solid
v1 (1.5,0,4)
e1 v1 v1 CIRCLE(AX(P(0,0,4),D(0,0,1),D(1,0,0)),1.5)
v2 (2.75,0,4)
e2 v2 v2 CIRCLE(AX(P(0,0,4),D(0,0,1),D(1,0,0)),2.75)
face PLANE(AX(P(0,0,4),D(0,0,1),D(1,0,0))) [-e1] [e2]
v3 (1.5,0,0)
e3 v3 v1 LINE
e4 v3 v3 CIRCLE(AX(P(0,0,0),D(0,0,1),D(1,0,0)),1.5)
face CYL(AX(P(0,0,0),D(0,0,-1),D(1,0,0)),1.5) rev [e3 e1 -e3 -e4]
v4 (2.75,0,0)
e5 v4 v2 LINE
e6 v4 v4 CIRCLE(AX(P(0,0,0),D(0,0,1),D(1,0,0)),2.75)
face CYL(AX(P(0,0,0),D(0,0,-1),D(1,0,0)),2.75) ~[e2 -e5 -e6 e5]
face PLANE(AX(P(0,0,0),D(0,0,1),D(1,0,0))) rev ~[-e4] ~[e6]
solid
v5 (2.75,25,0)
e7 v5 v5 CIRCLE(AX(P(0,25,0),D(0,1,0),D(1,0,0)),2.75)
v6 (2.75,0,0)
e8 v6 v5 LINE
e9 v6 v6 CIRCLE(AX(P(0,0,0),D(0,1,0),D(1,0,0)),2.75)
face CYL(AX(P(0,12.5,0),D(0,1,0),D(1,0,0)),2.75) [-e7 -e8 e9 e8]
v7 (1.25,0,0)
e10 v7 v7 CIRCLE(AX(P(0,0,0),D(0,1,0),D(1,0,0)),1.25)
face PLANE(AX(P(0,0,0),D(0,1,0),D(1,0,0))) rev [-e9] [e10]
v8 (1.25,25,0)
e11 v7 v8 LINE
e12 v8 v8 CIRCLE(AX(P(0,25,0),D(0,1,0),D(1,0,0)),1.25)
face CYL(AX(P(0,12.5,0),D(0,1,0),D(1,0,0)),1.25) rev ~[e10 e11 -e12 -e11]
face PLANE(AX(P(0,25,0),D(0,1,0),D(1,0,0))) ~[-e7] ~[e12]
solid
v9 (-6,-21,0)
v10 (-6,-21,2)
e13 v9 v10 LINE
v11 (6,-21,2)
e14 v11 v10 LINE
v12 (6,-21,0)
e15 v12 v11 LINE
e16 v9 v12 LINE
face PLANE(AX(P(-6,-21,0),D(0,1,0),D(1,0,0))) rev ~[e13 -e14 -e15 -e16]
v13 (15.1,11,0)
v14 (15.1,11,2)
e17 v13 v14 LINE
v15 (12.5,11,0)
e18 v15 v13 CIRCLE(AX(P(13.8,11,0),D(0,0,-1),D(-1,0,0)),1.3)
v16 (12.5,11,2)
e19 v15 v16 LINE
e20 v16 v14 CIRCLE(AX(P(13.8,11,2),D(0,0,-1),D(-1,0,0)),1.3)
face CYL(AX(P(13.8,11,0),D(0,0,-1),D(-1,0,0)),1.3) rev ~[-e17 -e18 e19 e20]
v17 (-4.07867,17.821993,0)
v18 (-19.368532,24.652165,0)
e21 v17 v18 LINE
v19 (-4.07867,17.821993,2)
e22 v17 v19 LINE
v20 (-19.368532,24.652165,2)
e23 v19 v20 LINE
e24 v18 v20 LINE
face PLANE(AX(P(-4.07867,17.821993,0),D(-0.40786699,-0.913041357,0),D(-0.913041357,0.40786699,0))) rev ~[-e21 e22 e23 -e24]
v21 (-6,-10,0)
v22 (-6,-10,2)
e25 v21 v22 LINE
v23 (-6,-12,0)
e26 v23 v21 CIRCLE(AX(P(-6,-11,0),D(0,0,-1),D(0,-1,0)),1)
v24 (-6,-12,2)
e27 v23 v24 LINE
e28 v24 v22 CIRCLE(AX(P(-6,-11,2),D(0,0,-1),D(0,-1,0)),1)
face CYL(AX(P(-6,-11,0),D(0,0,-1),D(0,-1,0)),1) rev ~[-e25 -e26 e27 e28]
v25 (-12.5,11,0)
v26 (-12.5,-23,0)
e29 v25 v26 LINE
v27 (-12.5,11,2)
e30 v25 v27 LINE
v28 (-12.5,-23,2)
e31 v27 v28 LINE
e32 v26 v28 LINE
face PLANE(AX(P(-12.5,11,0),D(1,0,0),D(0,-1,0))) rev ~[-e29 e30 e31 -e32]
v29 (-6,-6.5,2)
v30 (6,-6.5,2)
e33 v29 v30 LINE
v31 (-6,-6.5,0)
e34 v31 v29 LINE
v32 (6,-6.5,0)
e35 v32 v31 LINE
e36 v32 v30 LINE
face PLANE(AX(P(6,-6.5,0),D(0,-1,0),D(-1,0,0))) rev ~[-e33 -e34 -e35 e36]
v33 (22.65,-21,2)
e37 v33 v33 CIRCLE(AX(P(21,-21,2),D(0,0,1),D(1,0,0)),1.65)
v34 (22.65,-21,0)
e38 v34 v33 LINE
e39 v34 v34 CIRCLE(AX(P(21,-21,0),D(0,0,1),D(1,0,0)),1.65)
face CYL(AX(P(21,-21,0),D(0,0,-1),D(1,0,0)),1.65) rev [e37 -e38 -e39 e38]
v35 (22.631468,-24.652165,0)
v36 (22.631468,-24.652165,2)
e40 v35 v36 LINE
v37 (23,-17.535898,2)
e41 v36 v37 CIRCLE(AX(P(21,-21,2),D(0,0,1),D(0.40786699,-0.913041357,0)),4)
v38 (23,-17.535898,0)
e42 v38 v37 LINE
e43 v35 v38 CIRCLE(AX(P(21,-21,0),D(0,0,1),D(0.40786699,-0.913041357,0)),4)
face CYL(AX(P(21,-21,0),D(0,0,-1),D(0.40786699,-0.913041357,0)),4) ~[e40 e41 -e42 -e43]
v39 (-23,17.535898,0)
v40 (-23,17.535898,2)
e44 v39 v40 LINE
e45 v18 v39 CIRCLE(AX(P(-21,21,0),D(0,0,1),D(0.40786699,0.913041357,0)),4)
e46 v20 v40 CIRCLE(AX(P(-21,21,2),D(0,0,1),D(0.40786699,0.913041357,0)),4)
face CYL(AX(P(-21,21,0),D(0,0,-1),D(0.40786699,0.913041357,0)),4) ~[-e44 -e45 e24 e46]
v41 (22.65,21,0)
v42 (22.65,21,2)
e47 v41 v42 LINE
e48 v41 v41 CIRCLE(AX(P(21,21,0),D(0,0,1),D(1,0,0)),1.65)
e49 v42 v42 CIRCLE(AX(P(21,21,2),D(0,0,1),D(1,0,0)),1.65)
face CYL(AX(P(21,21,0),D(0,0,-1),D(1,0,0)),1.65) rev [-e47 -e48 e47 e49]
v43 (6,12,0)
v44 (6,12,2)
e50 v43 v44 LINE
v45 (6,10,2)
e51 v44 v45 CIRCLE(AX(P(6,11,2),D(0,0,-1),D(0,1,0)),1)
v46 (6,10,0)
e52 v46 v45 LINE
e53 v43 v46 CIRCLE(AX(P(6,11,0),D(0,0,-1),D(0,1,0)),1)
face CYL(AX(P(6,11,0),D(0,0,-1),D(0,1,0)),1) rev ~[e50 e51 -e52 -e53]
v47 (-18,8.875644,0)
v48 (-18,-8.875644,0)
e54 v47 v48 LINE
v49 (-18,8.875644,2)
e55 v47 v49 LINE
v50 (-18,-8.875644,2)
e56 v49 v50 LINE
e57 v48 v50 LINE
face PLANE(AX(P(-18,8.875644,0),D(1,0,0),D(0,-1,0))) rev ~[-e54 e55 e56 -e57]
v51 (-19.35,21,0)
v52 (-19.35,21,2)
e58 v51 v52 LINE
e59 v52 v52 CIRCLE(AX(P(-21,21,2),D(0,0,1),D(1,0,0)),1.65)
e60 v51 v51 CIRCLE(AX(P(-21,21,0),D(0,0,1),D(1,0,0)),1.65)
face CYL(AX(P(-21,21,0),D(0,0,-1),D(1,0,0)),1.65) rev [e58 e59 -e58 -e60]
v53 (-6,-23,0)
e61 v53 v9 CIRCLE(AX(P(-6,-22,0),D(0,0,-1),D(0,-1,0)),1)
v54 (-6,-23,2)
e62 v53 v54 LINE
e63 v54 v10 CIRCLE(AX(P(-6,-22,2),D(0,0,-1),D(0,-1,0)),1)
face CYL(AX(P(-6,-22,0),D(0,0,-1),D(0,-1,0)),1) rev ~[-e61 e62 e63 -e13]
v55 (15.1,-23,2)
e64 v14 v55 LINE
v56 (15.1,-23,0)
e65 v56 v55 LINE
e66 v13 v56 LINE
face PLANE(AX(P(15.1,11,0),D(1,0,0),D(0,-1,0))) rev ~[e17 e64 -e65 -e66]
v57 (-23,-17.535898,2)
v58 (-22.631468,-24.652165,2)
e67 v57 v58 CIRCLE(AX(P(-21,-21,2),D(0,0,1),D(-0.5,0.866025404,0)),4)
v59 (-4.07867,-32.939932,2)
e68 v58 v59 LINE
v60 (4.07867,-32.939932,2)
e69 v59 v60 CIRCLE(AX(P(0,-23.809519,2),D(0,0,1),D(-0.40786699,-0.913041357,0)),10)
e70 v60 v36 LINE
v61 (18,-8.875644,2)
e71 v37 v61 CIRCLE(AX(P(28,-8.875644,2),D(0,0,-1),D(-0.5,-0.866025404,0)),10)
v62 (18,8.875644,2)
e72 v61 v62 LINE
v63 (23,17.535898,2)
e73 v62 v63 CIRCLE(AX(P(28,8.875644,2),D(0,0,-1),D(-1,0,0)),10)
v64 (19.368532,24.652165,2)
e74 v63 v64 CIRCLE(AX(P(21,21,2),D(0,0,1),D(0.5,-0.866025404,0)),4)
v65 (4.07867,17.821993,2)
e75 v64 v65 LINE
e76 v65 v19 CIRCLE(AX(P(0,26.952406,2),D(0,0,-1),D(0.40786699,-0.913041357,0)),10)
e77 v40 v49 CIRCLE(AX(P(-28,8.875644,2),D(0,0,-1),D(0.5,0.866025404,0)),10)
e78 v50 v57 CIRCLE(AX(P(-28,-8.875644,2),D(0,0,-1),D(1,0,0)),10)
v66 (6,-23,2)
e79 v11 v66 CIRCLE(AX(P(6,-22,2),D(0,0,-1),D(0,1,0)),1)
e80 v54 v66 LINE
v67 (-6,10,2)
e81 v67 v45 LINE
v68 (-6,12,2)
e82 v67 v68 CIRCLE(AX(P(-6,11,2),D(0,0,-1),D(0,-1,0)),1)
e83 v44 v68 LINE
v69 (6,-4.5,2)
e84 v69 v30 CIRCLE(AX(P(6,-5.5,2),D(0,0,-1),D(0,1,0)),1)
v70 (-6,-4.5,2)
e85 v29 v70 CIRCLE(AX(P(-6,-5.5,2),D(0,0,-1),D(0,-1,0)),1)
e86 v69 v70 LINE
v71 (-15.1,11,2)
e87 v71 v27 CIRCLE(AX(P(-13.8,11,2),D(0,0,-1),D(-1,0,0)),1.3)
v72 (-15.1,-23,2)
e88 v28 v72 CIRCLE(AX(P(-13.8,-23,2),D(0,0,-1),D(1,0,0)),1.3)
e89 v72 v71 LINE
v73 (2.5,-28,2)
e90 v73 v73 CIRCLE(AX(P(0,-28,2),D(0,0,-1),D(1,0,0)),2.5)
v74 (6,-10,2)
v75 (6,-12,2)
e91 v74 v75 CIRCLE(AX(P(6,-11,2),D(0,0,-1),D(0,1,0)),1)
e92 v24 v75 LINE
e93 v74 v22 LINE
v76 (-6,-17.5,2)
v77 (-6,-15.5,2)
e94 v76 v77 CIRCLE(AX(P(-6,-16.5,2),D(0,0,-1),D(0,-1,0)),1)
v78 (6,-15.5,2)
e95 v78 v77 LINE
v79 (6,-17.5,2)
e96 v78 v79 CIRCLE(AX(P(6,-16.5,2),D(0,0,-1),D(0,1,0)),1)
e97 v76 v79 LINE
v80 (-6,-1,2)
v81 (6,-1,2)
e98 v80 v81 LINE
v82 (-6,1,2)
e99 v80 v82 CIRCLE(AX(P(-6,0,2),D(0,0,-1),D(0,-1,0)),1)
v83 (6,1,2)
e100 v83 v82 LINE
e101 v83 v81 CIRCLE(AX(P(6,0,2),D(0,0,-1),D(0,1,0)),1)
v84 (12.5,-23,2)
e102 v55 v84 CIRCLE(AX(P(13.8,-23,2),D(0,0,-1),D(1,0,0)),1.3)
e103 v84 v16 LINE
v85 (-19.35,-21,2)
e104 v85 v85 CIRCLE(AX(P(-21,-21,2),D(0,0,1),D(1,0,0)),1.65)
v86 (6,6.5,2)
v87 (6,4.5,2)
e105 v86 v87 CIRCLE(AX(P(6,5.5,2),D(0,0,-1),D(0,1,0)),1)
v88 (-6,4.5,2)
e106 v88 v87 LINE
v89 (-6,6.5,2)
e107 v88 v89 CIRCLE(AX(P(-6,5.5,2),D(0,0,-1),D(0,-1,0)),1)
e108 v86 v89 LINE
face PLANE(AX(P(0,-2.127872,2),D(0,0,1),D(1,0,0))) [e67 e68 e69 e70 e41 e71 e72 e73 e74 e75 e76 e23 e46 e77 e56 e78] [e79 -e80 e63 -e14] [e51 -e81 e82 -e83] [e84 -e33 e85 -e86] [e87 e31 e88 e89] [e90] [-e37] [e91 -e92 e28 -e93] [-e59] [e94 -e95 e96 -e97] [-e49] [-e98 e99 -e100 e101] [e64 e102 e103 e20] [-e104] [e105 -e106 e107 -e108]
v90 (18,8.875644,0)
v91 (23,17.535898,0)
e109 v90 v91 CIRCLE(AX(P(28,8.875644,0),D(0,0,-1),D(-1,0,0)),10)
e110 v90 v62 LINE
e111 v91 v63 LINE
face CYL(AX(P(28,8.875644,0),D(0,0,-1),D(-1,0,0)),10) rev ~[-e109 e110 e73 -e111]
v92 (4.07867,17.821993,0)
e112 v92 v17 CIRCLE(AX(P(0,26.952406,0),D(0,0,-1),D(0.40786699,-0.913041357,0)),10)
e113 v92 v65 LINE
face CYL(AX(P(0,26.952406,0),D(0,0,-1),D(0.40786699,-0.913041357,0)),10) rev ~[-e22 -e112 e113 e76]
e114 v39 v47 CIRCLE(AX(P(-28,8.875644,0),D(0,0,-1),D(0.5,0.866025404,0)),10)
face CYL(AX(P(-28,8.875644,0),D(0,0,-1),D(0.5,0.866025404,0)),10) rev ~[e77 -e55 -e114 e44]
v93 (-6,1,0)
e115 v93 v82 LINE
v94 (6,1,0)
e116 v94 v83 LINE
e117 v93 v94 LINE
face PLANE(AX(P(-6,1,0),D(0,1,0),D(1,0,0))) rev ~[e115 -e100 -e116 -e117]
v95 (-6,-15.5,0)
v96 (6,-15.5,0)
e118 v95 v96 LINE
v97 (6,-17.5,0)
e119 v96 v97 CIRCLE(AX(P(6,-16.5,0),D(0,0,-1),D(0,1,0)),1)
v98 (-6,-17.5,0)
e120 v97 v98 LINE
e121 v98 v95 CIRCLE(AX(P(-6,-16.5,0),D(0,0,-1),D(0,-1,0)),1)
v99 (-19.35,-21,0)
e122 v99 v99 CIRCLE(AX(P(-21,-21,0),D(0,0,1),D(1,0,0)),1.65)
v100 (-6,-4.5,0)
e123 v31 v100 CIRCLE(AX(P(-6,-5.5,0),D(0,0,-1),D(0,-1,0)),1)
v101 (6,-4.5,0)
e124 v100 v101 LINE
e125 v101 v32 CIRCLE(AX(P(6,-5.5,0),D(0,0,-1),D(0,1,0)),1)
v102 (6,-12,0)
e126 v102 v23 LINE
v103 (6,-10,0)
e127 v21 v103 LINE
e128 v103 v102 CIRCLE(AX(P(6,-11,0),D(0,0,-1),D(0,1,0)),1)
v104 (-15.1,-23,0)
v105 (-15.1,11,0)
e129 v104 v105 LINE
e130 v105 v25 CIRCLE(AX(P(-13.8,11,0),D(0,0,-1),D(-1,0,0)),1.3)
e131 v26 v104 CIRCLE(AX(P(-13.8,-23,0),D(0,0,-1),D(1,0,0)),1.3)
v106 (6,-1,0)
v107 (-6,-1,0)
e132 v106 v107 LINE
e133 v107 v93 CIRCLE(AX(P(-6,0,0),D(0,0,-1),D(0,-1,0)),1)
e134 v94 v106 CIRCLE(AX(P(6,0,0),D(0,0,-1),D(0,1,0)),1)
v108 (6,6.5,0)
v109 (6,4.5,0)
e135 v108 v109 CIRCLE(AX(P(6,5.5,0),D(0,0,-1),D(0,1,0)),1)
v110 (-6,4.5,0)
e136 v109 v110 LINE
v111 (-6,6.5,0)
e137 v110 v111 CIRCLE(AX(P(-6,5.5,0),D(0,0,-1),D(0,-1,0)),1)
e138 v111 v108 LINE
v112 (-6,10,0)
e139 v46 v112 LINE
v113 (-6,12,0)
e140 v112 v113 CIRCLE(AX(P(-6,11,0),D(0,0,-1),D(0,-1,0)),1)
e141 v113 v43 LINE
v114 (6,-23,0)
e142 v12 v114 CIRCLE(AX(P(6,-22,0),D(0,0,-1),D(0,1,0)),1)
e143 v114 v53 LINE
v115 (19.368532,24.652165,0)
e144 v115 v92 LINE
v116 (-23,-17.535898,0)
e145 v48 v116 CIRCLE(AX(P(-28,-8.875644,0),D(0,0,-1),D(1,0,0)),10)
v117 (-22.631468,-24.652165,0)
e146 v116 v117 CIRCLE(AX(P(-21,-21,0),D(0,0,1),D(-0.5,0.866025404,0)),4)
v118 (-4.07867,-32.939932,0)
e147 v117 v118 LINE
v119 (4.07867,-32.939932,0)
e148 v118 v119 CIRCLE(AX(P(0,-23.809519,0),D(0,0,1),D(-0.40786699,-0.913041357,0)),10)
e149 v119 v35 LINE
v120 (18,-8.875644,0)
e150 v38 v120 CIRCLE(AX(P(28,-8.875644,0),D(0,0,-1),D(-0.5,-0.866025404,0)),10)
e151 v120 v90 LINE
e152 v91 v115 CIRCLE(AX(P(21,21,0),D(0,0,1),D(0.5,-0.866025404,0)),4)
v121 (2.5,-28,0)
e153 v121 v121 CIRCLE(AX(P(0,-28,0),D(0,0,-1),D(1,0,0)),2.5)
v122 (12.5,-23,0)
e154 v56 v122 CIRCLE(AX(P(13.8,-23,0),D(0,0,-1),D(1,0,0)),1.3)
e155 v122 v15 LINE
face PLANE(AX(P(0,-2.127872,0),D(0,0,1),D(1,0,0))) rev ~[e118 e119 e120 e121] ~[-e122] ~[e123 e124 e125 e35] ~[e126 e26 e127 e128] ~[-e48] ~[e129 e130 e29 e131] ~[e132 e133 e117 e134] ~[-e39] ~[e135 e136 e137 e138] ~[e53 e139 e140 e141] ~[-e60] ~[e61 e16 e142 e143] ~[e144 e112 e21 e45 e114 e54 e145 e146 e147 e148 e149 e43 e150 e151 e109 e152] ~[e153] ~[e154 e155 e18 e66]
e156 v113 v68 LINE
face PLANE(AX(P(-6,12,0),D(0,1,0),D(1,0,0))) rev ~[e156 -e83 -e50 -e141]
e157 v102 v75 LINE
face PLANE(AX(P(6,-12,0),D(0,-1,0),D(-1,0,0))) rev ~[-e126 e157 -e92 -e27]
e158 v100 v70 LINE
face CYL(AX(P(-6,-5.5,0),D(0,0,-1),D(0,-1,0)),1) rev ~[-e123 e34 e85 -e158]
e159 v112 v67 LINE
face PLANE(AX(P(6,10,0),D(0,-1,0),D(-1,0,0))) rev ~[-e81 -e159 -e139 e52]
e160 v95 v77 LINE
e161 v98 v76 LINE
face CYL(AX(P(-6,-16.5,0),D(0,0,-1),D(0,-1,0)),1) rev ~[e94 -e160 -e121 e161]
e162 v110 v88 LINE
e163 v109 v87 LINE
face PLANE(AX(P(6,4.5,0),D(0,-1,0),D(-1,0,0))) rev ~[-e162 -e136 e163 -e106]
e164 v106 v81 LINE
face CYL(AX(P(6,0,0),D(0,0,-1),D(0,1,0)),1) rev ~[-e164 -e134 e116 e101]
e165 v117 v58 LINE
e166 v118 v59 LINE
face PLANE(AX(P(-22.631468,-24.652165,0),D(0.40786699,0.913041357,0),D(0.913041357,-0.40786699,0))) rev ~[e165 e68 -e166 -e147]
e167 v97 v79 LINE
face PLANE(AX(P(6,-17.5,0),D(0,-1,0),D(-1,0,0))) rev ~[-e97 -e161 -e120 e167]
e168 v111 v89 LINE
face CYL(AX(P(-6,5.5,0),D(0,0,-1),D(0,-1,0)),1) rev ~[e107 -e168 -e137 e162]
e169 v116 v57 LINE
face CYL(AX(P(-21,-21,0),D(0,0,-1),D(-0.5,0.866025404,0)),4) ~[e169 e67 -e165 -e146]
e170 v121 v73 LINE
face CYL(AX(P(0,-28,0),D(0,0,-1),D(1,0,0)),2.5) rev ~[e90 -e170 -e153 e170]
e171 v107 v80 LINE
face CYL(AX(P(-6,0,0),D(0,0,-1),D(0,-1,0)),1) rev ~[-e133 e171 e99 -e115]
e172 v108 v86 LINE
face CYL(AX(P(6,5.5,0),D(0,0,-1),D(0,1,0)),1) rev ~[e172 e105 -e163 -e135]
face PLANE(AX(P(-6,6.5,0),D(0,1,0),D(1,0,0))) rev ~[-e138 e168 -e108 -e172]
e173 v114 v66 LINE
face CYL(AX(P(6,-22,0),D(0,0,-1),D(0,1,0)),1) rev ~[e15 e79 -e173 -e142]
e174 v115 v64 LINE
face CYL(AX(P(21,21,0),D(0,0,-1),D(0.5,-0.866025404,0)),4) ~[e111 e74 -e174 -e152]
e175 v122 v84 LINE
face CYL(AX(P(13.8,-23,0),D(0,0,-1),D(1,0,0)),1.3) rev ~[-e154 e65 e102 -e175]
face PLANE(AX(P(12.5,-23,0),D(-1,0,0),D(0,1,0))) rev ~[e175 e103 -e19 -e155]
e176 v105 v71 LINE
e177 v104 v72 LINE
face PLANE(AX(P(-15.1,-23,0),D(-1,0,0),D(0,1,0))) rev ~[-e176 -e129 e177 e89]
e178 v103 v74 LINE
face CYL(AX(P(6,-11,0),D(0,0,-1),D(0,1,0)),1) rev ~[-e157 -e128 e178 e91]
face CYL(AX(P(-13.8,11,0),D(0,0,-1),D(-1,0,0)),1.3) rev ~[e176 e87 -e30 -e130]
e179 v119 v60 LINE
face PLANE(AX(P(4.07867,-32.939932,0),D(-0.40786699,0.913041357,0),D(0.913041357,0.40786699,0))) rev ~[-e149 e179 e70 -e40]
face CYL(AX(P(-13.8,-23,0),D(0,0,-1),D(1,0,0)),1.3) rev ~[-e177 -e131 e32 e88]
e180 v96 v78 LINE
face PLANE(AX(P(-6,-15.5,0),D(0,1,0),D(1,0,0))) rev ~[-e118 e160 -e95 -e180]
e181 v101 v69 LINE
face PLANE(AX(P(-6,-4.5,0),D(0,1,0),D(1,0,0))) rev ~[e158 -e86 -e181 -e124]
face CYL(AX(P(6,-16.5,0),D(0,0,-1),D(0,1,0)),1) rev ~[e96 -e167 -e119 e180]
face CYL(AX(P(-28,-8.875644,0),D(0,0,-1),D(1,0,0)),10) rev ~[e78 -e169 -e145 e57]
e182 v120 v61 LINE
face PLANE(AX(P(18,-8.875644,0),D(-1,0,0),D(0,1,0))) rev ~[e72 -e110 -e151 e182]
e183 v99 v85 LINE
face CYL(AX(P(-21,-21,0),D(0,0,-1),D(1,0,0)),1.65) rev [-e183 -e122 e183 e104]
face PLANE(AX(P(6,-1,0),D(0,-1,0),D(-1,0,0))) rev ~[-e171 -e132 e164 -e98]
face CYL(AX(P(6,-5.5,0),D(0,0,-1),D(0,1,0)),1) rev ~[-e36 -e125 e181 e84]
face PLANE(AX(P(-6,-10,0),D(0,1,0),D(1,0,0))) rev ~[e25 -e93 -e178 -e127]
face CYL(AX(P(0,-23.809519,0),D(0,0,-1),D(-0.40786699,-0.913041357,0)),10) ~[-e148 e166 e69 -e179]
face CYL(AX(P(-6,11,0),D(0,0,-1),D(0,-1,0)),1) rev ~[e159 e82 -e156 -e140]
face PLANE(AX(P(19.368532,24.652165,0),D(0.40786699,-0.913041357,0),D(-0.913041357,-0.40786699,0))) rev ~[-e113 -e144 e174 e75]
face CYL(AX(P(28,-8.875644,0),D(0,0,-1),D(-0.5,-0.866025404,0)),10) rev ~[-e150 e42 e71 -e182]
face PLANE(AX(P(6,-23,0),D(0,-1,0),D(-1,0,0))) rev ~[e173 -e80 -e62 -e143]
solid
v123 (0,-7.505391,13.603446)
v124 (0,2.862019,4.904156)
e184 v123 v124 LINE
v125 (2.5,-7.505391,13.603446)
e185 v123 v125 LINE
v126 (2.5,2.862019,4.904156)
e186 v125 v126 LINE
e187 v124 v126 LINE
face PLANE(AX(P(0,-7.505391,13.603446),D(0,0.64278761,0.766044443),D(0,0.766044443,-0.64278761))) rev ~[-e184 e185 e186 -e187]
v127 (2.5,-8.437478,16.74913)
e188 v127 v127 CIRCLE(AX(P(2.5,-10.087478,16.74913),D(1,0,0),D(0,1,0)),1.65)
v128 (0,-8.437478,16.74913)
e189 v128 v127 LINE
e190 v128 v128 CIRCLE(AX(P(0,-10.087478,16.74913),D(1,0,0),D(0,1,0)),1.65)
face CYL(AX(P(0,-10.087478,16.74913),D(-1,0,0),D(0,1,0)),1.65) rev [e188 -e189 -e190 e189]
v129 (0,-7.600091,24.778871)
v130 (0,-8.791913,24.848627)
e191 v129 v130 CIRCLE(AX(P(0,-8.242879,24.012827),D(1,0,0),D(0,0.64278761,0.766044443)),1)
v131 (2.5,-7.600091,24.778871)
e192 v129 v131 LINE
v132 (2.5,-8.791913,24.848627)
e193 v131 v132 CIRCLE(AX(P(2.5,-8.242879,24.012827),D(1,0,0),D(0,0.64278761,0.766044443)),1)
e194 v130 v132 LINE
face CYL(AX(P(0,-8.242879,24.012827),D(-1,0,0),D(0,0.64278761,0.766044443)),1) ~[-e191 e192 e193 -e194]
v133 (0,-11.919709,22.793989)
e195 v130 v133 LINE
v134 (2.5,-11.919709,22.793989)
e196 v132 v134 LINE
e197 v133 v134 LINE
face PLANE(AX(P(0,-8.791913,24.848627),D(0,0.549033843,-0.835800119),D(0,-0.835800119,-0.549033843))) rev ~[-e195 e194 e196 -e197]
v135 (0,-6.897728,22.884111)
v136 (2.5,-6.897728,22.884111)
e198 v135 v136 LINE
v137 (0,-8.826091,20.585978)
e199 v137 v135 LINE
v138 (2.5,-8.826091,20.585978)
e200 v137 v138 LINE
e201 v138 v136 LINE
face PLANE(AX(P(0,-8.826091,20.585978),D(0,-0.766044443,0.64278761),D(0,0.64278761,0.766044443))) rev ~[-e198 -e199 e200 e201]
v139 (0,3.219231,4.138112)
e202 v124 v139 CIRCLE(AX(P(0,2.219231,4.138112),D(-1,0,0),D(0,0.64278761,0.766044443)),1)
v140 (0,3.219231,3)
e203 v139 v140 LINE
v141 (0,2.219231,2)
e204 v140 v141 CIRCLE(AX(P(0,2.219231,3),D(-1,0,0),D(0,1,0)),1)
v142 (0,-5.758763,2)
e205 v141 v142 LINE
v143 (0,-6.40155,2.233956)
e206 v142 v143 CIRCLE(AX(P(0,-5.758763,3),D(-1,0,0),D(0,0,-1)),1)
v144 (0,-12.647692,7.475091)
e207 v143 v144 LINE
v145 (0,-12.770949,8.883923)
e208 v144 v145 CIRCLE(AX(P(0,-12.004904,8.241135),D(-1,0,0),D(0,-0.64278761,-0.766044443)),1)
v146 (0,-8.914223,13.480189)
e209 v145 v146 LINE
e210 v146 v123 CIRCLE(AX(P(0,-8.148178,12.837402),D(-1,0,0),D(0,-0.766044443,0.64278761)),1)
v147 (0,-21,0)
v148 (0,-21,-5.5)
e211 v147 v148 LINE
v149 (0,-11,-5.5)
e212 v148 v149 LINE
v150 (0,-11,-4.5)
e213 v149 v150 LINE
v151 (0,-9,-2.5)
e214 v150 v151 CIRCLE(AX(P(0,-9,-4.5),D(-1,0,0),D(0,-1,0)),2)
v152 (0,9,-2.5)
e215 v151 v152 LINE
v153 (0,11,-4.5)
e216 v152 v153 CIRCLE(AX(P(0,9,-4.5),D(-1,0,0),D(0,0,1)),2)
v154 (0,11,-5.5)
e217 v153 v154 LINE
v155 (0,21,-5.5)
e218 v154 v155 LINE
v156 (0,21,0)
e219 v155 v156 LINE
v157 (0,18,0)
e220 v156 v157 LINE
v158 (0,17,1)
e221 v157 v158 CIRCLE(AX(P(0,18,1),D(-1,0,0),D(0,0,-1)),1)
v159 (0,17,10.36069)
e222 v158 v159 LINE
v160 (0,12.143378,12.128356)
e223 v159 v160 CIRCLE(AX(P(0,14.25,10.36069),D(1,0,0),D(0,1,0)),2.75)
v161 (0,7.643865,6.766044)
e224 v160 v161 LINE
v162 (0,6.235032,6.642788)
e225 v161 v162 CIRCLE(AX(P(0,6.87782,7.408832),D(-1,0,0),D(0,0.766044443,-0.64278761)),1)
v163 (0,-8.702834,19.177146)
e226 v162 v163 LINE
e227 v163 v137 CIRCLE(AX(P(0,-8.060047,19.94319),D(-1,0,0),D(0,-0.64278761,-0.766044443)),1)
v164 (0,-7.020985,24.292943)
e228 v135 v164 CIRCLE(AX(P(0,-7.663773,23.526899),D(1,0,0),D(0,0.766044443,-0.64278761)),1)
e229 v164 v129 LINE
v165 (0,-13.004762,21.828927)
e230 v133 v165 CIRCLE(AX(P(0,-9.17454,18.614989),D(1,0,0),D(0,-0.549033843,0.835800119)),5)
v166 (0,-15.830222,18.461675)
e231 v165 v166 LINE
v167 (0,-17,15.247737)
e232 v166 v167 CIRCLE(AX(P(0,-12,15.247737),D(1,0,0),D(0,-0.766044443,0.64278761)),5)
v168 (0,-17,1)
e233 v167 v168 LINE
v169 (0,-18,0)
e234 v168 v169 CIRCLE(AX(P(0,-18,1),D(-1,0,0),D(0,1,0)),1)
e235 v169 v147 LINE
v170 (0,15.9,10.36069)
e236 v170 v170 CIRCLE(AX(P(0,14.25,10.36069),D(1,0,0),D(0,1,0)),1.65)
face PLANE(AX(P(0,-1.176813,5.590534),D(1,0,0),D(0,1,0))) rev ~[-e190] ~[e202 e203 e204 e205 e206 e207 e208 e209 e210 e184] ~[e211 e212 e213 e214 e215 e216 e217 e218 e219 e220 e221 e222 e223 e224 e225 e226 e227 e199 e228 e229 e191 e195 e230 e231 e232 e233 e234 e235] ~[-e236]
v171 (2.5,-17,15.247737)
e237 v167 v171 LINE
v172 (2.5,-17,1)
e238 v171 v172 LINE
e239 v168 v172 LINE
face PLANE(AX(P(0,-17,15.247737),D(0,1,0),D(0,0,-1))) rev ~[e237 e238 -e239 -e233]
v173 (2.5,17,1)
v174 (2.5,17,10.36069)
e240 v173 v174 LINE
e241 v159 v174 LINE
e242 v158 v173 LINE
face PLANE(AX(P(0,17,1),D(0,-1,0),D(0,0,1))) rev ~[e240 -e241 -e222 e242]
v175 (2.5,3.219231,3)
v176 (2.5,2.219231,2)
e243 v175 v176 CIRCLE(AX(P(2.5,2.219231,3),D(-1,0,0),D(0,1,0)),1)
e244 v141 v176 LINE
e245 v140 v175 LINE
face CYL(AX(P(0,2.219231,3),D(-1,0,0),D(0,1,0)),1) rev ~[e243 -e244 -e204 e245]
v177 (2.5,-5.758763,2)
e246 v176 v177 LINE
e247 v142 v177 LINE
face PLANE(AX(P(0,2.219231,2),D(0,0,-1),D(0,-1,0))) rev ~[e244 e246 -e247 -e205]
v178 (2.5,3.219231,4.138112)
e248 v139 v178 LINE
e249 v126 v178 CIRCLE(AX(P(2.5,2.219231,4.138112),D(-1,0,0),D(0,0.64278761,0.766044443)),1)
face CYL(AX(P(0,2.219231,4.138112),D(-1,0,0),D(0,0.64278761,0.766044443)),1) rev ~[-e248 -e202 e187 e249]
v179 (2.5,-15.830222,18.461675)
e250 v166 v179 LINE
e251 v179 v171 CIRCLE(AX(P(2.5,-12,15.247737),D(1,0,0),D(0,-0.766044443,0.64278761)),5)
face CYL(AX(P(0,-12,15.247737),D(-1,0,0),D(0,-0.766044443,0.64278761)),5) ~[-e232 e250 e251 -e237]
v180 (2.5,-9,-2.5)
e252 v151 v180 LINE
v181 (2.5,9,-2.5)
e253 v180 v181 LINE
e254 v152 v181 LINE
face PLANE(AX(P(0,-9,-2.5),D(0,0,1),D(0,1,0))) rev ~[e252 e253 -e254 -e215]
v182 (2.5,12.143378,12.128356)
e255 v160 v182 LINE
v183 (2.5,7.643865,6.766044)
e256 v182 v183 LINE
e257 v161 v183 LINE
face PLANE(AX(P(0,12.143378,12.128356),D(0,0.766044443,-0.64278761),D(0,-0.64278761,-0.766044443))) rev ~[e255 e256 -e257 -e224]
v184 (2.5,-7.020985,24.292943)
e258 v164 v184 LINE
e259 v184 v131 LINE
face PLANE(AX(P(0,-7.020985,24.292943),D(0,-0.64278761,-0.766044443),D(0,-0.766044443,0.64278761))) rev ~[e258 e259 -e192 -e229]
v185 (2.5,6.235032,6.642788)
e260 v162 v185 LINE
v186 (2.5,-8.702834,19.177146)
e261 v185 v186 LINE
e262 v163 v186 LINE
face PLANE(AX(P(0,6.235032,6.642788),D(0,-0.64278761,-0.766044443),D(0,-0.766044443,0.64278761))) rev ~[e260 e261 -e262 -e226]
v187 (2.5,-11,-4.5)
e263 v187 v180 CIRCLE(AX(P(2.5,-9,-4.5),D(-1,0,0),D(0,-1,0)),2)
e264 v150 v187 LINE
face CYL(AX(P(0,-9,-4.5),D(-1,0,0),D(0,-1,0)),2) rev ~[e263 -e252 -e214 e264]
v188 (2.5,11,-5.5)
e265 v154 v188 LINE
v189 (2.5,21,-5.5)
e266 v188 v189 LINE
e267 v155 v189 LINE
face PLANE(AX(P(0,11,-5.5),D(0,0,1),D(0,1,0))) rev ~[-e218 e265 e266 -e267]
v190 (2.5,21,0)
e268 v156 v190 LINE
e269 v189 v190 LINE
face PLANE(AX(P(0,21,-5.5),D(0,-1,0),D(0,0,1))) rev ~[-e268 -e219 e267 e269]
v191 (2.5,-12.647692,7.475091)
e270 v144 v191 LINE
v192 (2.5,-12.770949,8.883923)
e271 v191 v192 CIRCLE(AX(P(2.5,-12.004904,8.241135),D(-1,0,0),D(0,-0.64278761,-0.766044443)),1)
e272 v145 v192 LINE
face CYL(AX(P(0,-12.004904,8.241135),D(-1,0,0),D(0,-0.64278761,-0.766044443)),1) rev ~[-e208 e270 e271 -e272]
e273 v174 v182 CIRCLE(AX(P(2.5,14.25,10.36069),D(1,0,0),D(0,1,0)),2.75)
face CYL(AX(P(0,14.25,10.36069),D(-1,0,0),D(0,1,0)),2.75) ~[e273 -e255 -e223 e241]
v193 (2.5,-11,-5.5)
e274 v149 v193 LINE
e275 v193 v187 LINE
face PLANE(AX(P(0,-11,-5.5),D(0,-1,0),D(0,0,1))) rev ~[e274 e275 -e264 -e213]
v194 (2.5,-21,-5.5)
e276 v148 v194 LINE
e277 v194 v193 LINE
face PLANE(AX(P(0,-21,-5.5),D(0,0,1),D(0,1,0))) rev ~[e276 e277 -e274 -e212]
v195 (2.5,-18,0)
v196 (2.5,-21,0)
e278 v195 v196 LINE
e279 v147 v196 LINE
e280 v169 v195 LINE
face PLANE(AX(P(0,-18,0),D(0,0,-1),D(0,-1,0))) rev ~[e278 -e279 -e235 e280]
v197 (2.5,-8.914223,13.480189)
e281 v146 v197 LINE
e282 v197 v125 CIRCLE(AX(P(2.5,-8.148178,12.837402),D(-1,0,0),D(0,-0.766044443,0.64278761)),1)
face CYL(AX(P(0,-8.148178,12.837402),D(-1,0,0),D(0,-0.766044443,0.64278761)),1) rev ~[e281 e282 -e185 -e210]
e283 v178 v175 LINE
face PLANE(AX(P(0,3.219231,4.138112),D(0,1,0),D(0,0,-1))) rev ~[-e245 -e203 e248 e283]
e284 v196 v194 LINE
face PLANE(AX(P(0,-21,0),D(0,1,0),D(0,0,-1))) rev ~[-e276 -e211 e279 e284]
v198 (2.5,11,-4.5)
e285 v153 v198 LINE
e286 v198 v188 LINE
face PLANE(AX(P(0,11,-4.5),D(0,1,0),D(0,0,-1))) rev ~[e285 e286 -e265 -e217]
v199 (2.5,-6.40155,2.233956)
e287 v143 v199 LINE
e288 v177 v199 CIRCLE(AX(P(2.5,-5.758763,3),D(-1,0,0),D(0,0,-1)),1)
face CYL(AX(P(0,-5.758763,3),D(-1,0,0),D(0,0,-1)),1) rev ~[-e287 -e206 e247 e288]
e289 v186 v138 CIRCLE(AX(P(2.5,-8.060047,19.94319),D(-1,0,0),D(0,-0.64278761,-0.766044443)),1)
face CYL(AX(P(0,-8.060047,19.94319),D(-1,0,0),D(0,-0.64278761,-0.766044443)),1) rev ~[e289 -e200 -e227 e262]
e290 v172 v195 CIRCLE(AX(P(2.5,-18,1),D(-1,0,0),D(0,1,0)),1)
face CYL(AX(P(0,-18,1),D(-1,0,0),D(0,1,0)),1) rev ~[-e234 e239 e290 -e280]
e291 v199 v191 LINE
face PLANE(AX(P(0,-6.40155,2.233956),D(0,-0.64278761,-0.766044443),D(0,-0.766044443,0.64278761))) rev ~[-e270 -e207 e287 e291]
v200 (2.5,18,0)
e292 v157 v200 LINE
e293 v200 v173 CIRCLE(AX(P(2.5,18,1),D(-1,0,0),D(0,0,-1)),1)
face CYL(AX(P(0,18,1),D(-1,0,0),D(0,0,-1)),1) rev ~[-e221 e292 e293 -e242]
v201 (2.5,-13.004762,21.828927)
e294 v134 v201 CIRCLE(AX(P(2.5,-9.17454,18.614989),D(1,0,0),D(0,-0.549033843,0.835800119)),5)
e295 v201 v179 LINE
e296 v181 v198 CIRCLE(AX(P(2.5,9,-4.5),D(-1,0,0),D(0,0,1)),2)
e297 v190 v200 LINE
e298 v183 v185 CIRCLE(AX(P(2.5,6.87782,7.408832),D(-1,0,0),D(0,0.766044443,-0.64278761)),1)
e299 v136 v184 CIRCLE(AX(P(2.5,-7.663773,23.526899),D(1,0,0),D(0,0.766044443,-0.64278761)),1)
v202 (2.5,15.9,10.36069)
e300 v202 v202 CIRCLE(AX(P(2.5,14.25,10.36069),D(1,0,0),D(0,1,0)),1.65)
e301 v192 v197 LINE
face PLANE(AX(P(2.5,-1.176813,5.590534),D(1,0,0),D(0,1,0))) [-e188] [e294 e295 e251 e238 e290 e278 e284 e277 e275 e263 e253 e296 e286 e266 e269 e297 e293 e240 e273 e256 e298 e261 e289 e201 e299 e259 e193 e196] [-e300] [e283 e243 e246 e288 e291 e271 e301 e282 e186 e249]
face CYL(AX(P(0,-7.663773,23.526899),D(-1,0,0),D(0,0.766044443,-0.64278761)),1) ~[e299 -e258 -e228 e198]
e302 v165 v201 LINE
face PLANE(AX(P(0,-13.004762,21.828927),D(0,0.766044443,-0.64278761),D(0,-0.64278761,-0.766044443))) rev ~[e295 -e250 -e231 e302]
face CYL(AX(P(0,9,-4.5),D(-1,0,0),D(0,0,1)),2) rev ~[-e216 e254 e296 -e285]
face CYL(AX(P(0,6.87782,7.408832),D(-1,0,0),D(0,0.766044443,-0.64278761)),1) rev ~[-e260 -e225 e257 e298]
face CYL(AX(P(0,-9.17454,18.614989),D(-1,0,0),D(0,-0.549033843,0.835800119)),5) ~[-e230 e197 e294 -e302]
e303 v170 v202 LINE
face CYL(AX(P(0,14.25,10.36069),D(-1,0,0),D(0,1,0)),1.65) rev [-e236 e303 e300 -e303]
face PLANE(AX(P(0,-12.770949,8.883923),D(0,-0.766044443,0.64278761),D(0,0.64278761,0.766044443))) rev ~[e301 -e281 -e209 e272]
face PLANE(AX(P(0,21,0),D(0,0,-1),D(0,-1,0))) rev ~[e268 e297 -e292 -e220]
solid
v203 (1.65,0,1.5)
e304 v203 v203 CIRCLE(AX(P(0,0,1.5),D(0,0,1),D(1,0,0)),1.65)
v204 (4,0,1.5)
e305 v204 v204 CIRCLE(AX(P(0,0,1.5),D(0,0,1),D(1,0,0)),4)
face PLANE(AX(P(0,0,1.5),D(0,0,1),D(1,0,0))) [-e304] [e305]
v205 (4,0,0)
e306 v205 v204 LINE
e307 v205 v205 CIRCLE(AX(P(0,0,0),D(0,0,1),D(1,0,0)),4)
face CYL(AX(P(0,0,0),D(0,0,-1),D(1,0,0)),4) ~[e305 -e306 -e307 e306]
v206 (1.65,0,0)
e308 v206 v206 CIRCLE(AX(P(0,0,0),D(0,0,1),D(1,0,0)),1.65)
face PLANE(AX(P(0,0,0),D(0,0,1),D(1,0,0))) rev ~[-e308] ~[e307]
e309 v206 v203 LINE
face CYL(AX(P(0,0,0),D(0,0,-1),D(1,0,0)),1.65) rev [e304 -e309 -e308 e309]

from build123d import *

# Parameters (mm, degrees)
F0_R      = 1.65
F1_DEPTH  = 2.5
F2_R      = 1.65
F3_DEPTH  = 2
F4_W      = 1.5
F4_H      = 25
F6_R      = 2.5
F7_DEPTH  = 25
F8_R      = 2.75
F8_R_2    = 1.5
F9_DEPTH  = 4
F10_R     = 4
F10_R_2   = 1.65
F11_DEPTH = 1.5


with BuildPart() as f1:
    # F0 (on Right) → F1 (new body)
    with BuildSketch(Plane.YZ):
        with BuildLine():
            Line((-18, 0), (-21, 0))
            Line((-21, 0), (-21, -5.5))
            Line((-21, -5.5), (-11, -5.5))
            Line((-11, -5.5), (-11, -4.5))
            ThreePointArc((-11, -4.5), (-10.4142135624, -3.0857864376), (-9, -2.5))
            Line((-9, -2.5), (9, -2.5))
            ThreePointArc((9, -2.5), (10.4142135624, -3.0857864376), (11, -4.5))
            Line((11, -4.5), (11, -5.5))
            Line((11, -5.5), (21, -5.5))
            Line((21, -5.5), (21, 0))
            Line((21, 0), (18, 0))
            ThreePointArc((18, 0), (17.2928932188, 0.2928932188), (17, 1))
            Line((17, 1), (17, 10.3606896183))
            ThreePointArc((17, 10.3606896183), (15.1905553941, 12.9448443255), (12.1433777814, 12.128355545))
            Line((12.1433777814, 12.128355545), (7.6438645136, 6.7660444431))
            ThreePointArc((7.6438645136, 6.7660444431), (6.9649758132, 6.4126373547), (6.2350324608, 6.6427876097))
            Line((6.2350324608, 6.6427876097), (-8.70283418, 19.1771459986))
            ThreePointArc((-8.70283418, 19.1771459986), (-9.0562412684, 19.8560346989), (-8.8260910134, 20.5859780514))
            Line((-8.8260910134, 20.5859780514), (-6.8977281844, 22.8841113807))
            ThreePointArc((-6.8977281844, 22.8841113807), (-6.6675779294, 23.6140547332), (-7.0209850178, 24.2929434335))
            Line((-7.0209850178, 24.2929434335), (-7.6000911369, 24.7788711645))
            ThreePointArc((-7.6000911369, 24.7788711645), (-8.1844501081, 25.0111183091), (-8.7919125893, 24.8486268407))
            Line((-8.7919125893, 24.8486268407), (-11.9197093411, 22.793989338))
            ThreePointArc((-11.9197093411, 22.793989338), (-12.4974574514, 22.3510589302), (-13.0047623429, 21.8289267896))
            Line((-13.0047623429, 21.8289267896), (-15.8302222156, 18.4616748357))
            ThreePointArc((-15.8302222156, 18.4616748357), (-16.6984631039, 16.9578375038), (-17, 15.2477367872))
            Line((-17, 15.2477367872), (-17, 1))
            ThreePointArc((-17, 1), (-17.2928932188, 0.2928932188), (-18, 0))
        make_face()
        with BuildLine():
            ThreePointArc((-8.9142228727, 13.4801893706), (-8.2353341723, 13.833596459), (-7.5053908199, 13.6034462041))
            Line((-7.5053908199, 13.6034462041), (2.8620189935, 4.9041564534))
            ThreePointArc((2.8620189935, 4.9041564534), (3.1255391708, 4.560730272), (3.2192313838, 4.1381120103))
            Line((3.2192313838, 4.1381120103), (3.2192313838, 3))
            ThreePointArc((3.2192313838, 3), (2.926338165, 2.2928932188), (2.2192313838, 2))
            Line((2.2192313838, 2), (-5.7587625003, 2))
            ThreePointArc((-5.7587625003, 2), (-6.1007826436, 2.0603073792), (-6.40155011, 2.2339555569))
            Line((-6.40155011, 2.2339555569), (-12.6476916974, 7.4750906591))
            ThreePointArc((-12.6476916974, 7.4750906591), (-13.0010987858, 8.1539793595), (-12.7709485308, 8.8839227119))
            Line((-12.7709485308, 8.8839227119), (-8.9142228727, 13.4801893706))
        make_face(mode=Mode.SUBTRACT)
        with Locations((-10.0874778851, 16.7491299752)):
            Circle(F0_R, mode=Mode.SUBTRACT)
        with Locations((14.25, 10.3606896183)):
            Circle(F0_R, mode=Mode.SUBTRACT)
    extrude(amount=F1_DEPTH)


with BuildPart() as f3:
    # F2 (on Top) → F3 (new body)
    with BuildSketch(Plane.XY):
        with BuildLine():
            Line((-4.0786698965, 17.8219928381), (-19.3685320414, 24.6521654262))
            ThreePointArc((-19.3685320414, 24.6521654262), (-24.5629016429, 22.8181671768), (-23, 17.5358983849))
            ThreePointArc((-23, 17.5358983849), (-19.3397459622, 13.875644347), (-18, 8.875644347))
            Line((-18, 8.875644347), (-18, -8.875644347))
            ThreePointArc((-18, -8.875644347), (-19.3397459622, -13.875644347), (-23, -17.5358983849))
            ThreePointArc((-23, -17.5358983849), (-24.9946469224, -21.206871858), (-22.6314679586, -24.6521654262))
            Line((-22.6314679586, -24.6521654262), (-4.0786698965, -32.9399322847))
            ThreePointArc((-4.0786698965, -32.9399322847), (0, -33.8095187193), (4.0786698965, -32.9399322847))
            Line((4.0786698965, -32.9399322847), (22.6314679586, -24.6521654262))
            ThreePointArc((22.6314679586, -24.6521654262), (24.9946469224, -21.206871858), (23, -17.5358983849))
            ThreePointArc((23, -17.5358983849), (19.3397459622, -13.875644347), (18, -8.875644347))
            Line((18, -8.875644347), (18, 8.875644347))
            ThreePointArc((18, 8.875644347), (19.3397459622, 13.875644347), (23, 17.5358983849))
            ThreePointArc((23, 17.5358983849), (24.5629016429, 22.8181671768), (19.3685320414, 24.6521654262))
            Line((19.3685320414, 24.6521654262), (4.0786698965, 17.8219928381))
            ThreePointArc((4.0786698965, 17.8219928381), (0, 16.9524064035), (-4.0786698965, 17.8219928381))
        make_face()
        with Locations((-21, -21)):
            Circle(F2_R, mode=Mode.SUBTRACT)
        with BuildLine():
            Line((-15.1, -23), (-15.1, 11))
            ThreePointArc((-15.1, 11), (-13.8, 12.3), (-12.5, 11))
            Line((-12.5, 11), (-12.5, -23))
            ThreePointArc((-12.5, -23), (-13.8, -24.3), (-15.1, -23))
        make_face(mode=Mode.SUBTRACT)
        with Locations((21, -21)):
            Circle(F2_R, mode=Mode.SUBTRACT)
        with BuildLine():
            ThreePointArc((12.5, 11), (13.8, 12.3), (15.1, 11))
            Line((15.1, 11), (15.1, -23))
            ThreePointArc((15.1, -23), (13.8, -24.3), (12.5, -23))
            Line((12.5, -23), (12.5, 11))
        make_face(mode=Mode.SUBTRACT)
        with Locations((-21, 21)):
            Circle(F2_R, mode=Mode.SUBTRACT)
        with Locations((21, 21)):
            Circle(F2_R, mode=Mode.SUBTRACT)
    extrude(amount=F3_DEPTH)

    # F6 (on face) → F7 (cut)
    with BuildSketch(Plane(origin=(0, 0, 0), x_dir=(1, 0, 0), z_dir=(0, 0, -1))):
        with BuildLine():
            ThreePointArc((-6, 23), (-7, 22), (-6, 21))
            Line((-6, 21), (6, 21))
            ThreePointArc((6, 21), (7, 22), (6, 23))
            Line((6, 23), (-6, 23))
        make_face()
        with BuildLine():
            ThreePointArc((-6, 17.5), (-7, 16.5), (-6, 15.5))
            Line((-6, 15.5), (6, 15.5))
            ThreePointArc((6, 15.5), (7, 16.5), (6, 17.5))
            Line((6, 17.5), (-6, 17.5))
        make_face()
        with BuildLine():
            ThreePointArc((-6, 12), (-7, 11), (-6, 10))
            Line((-6, 10), (6, 10))
            ThreePointArc((6, 10), (7, 11), (6, 12))
            Line((6, 12), (-6, 12))
        make_face()
        with BuildLine():
            ThreePointArc((-6, 6.5), (-7, 5.5), (-6, 4.5))
            Line((-6, 4.5), (6, 4.5))
            ThreePointArc((6, 4.5), (7, 5.5), (6, 6.5))
            Line((6, 6.5), (-6, 6.5))
        make_face()
        with BuildLine():
            ThreePointArc((-6, 1), (-7, 0), (-6, -1))
            Line((-6, -1), (6, -1))
            ThreePointArc((6, -1), (7, 0), (6, 1))
            Line((6, 1), (-6, 1))
        make_face()
        with BuildLine():
            ThreePointArc((-6, -4.5), (-7, -5.5), (-6, -6.5))
            Line((-6, -6.5), (6, -6.5))
            ThreePointArc((6, -6.5), (7, -5.5), (6, -4.5))
            Line((6, -4.5), (-6, -4.5))
        make_face()
        with BuildLine():
            ThreePointArc((-6, -10), (-7, -11), (-6, -12))
            Line((-6, -12), (6, -12))
            ThreePointArc((6, -12), (7, -11), (6, -10))
            Line((6, -10), (-6, -10))
        make_face()
        with Locations((0, 28)):
            Circle(F6_R)
    extrude(amount=-F7_DEPTH, mode=Mode.SUBTRACT)


with BuildPart() as f5:
    # F4 (on Top) → F5 (revolve)
    with BuildSketch(Plane.XY):
        with Locations((2, 12.5)):
            Rectangle(F4_W, F4_H)
    revolve(axis=Axis((0, 12.5, 0), (0, 1, 0)))


with BuildPart() as f9:
    # F8 (on Top) → F9 (new body)
    with BuildSketch(Plane.XY):
        Circle(F8_R)
        Circle(F8_R_2, mode=Mode.SUBTRACT)
    extrude(amount=F9_DEPTH)


with BuildPart() as f11:
    # F10 (on Top) → F11 (new body)
    with BuildSketch(Plane.XY):
        Circle(F10_R)
        Circle(F10_R_2, mode=Mode.SUBTRACT)
    extrude(amount=F11_DEPTH)


solid = Compound([f1.part, f3.part, f5.part, f9.part, f11.part])
